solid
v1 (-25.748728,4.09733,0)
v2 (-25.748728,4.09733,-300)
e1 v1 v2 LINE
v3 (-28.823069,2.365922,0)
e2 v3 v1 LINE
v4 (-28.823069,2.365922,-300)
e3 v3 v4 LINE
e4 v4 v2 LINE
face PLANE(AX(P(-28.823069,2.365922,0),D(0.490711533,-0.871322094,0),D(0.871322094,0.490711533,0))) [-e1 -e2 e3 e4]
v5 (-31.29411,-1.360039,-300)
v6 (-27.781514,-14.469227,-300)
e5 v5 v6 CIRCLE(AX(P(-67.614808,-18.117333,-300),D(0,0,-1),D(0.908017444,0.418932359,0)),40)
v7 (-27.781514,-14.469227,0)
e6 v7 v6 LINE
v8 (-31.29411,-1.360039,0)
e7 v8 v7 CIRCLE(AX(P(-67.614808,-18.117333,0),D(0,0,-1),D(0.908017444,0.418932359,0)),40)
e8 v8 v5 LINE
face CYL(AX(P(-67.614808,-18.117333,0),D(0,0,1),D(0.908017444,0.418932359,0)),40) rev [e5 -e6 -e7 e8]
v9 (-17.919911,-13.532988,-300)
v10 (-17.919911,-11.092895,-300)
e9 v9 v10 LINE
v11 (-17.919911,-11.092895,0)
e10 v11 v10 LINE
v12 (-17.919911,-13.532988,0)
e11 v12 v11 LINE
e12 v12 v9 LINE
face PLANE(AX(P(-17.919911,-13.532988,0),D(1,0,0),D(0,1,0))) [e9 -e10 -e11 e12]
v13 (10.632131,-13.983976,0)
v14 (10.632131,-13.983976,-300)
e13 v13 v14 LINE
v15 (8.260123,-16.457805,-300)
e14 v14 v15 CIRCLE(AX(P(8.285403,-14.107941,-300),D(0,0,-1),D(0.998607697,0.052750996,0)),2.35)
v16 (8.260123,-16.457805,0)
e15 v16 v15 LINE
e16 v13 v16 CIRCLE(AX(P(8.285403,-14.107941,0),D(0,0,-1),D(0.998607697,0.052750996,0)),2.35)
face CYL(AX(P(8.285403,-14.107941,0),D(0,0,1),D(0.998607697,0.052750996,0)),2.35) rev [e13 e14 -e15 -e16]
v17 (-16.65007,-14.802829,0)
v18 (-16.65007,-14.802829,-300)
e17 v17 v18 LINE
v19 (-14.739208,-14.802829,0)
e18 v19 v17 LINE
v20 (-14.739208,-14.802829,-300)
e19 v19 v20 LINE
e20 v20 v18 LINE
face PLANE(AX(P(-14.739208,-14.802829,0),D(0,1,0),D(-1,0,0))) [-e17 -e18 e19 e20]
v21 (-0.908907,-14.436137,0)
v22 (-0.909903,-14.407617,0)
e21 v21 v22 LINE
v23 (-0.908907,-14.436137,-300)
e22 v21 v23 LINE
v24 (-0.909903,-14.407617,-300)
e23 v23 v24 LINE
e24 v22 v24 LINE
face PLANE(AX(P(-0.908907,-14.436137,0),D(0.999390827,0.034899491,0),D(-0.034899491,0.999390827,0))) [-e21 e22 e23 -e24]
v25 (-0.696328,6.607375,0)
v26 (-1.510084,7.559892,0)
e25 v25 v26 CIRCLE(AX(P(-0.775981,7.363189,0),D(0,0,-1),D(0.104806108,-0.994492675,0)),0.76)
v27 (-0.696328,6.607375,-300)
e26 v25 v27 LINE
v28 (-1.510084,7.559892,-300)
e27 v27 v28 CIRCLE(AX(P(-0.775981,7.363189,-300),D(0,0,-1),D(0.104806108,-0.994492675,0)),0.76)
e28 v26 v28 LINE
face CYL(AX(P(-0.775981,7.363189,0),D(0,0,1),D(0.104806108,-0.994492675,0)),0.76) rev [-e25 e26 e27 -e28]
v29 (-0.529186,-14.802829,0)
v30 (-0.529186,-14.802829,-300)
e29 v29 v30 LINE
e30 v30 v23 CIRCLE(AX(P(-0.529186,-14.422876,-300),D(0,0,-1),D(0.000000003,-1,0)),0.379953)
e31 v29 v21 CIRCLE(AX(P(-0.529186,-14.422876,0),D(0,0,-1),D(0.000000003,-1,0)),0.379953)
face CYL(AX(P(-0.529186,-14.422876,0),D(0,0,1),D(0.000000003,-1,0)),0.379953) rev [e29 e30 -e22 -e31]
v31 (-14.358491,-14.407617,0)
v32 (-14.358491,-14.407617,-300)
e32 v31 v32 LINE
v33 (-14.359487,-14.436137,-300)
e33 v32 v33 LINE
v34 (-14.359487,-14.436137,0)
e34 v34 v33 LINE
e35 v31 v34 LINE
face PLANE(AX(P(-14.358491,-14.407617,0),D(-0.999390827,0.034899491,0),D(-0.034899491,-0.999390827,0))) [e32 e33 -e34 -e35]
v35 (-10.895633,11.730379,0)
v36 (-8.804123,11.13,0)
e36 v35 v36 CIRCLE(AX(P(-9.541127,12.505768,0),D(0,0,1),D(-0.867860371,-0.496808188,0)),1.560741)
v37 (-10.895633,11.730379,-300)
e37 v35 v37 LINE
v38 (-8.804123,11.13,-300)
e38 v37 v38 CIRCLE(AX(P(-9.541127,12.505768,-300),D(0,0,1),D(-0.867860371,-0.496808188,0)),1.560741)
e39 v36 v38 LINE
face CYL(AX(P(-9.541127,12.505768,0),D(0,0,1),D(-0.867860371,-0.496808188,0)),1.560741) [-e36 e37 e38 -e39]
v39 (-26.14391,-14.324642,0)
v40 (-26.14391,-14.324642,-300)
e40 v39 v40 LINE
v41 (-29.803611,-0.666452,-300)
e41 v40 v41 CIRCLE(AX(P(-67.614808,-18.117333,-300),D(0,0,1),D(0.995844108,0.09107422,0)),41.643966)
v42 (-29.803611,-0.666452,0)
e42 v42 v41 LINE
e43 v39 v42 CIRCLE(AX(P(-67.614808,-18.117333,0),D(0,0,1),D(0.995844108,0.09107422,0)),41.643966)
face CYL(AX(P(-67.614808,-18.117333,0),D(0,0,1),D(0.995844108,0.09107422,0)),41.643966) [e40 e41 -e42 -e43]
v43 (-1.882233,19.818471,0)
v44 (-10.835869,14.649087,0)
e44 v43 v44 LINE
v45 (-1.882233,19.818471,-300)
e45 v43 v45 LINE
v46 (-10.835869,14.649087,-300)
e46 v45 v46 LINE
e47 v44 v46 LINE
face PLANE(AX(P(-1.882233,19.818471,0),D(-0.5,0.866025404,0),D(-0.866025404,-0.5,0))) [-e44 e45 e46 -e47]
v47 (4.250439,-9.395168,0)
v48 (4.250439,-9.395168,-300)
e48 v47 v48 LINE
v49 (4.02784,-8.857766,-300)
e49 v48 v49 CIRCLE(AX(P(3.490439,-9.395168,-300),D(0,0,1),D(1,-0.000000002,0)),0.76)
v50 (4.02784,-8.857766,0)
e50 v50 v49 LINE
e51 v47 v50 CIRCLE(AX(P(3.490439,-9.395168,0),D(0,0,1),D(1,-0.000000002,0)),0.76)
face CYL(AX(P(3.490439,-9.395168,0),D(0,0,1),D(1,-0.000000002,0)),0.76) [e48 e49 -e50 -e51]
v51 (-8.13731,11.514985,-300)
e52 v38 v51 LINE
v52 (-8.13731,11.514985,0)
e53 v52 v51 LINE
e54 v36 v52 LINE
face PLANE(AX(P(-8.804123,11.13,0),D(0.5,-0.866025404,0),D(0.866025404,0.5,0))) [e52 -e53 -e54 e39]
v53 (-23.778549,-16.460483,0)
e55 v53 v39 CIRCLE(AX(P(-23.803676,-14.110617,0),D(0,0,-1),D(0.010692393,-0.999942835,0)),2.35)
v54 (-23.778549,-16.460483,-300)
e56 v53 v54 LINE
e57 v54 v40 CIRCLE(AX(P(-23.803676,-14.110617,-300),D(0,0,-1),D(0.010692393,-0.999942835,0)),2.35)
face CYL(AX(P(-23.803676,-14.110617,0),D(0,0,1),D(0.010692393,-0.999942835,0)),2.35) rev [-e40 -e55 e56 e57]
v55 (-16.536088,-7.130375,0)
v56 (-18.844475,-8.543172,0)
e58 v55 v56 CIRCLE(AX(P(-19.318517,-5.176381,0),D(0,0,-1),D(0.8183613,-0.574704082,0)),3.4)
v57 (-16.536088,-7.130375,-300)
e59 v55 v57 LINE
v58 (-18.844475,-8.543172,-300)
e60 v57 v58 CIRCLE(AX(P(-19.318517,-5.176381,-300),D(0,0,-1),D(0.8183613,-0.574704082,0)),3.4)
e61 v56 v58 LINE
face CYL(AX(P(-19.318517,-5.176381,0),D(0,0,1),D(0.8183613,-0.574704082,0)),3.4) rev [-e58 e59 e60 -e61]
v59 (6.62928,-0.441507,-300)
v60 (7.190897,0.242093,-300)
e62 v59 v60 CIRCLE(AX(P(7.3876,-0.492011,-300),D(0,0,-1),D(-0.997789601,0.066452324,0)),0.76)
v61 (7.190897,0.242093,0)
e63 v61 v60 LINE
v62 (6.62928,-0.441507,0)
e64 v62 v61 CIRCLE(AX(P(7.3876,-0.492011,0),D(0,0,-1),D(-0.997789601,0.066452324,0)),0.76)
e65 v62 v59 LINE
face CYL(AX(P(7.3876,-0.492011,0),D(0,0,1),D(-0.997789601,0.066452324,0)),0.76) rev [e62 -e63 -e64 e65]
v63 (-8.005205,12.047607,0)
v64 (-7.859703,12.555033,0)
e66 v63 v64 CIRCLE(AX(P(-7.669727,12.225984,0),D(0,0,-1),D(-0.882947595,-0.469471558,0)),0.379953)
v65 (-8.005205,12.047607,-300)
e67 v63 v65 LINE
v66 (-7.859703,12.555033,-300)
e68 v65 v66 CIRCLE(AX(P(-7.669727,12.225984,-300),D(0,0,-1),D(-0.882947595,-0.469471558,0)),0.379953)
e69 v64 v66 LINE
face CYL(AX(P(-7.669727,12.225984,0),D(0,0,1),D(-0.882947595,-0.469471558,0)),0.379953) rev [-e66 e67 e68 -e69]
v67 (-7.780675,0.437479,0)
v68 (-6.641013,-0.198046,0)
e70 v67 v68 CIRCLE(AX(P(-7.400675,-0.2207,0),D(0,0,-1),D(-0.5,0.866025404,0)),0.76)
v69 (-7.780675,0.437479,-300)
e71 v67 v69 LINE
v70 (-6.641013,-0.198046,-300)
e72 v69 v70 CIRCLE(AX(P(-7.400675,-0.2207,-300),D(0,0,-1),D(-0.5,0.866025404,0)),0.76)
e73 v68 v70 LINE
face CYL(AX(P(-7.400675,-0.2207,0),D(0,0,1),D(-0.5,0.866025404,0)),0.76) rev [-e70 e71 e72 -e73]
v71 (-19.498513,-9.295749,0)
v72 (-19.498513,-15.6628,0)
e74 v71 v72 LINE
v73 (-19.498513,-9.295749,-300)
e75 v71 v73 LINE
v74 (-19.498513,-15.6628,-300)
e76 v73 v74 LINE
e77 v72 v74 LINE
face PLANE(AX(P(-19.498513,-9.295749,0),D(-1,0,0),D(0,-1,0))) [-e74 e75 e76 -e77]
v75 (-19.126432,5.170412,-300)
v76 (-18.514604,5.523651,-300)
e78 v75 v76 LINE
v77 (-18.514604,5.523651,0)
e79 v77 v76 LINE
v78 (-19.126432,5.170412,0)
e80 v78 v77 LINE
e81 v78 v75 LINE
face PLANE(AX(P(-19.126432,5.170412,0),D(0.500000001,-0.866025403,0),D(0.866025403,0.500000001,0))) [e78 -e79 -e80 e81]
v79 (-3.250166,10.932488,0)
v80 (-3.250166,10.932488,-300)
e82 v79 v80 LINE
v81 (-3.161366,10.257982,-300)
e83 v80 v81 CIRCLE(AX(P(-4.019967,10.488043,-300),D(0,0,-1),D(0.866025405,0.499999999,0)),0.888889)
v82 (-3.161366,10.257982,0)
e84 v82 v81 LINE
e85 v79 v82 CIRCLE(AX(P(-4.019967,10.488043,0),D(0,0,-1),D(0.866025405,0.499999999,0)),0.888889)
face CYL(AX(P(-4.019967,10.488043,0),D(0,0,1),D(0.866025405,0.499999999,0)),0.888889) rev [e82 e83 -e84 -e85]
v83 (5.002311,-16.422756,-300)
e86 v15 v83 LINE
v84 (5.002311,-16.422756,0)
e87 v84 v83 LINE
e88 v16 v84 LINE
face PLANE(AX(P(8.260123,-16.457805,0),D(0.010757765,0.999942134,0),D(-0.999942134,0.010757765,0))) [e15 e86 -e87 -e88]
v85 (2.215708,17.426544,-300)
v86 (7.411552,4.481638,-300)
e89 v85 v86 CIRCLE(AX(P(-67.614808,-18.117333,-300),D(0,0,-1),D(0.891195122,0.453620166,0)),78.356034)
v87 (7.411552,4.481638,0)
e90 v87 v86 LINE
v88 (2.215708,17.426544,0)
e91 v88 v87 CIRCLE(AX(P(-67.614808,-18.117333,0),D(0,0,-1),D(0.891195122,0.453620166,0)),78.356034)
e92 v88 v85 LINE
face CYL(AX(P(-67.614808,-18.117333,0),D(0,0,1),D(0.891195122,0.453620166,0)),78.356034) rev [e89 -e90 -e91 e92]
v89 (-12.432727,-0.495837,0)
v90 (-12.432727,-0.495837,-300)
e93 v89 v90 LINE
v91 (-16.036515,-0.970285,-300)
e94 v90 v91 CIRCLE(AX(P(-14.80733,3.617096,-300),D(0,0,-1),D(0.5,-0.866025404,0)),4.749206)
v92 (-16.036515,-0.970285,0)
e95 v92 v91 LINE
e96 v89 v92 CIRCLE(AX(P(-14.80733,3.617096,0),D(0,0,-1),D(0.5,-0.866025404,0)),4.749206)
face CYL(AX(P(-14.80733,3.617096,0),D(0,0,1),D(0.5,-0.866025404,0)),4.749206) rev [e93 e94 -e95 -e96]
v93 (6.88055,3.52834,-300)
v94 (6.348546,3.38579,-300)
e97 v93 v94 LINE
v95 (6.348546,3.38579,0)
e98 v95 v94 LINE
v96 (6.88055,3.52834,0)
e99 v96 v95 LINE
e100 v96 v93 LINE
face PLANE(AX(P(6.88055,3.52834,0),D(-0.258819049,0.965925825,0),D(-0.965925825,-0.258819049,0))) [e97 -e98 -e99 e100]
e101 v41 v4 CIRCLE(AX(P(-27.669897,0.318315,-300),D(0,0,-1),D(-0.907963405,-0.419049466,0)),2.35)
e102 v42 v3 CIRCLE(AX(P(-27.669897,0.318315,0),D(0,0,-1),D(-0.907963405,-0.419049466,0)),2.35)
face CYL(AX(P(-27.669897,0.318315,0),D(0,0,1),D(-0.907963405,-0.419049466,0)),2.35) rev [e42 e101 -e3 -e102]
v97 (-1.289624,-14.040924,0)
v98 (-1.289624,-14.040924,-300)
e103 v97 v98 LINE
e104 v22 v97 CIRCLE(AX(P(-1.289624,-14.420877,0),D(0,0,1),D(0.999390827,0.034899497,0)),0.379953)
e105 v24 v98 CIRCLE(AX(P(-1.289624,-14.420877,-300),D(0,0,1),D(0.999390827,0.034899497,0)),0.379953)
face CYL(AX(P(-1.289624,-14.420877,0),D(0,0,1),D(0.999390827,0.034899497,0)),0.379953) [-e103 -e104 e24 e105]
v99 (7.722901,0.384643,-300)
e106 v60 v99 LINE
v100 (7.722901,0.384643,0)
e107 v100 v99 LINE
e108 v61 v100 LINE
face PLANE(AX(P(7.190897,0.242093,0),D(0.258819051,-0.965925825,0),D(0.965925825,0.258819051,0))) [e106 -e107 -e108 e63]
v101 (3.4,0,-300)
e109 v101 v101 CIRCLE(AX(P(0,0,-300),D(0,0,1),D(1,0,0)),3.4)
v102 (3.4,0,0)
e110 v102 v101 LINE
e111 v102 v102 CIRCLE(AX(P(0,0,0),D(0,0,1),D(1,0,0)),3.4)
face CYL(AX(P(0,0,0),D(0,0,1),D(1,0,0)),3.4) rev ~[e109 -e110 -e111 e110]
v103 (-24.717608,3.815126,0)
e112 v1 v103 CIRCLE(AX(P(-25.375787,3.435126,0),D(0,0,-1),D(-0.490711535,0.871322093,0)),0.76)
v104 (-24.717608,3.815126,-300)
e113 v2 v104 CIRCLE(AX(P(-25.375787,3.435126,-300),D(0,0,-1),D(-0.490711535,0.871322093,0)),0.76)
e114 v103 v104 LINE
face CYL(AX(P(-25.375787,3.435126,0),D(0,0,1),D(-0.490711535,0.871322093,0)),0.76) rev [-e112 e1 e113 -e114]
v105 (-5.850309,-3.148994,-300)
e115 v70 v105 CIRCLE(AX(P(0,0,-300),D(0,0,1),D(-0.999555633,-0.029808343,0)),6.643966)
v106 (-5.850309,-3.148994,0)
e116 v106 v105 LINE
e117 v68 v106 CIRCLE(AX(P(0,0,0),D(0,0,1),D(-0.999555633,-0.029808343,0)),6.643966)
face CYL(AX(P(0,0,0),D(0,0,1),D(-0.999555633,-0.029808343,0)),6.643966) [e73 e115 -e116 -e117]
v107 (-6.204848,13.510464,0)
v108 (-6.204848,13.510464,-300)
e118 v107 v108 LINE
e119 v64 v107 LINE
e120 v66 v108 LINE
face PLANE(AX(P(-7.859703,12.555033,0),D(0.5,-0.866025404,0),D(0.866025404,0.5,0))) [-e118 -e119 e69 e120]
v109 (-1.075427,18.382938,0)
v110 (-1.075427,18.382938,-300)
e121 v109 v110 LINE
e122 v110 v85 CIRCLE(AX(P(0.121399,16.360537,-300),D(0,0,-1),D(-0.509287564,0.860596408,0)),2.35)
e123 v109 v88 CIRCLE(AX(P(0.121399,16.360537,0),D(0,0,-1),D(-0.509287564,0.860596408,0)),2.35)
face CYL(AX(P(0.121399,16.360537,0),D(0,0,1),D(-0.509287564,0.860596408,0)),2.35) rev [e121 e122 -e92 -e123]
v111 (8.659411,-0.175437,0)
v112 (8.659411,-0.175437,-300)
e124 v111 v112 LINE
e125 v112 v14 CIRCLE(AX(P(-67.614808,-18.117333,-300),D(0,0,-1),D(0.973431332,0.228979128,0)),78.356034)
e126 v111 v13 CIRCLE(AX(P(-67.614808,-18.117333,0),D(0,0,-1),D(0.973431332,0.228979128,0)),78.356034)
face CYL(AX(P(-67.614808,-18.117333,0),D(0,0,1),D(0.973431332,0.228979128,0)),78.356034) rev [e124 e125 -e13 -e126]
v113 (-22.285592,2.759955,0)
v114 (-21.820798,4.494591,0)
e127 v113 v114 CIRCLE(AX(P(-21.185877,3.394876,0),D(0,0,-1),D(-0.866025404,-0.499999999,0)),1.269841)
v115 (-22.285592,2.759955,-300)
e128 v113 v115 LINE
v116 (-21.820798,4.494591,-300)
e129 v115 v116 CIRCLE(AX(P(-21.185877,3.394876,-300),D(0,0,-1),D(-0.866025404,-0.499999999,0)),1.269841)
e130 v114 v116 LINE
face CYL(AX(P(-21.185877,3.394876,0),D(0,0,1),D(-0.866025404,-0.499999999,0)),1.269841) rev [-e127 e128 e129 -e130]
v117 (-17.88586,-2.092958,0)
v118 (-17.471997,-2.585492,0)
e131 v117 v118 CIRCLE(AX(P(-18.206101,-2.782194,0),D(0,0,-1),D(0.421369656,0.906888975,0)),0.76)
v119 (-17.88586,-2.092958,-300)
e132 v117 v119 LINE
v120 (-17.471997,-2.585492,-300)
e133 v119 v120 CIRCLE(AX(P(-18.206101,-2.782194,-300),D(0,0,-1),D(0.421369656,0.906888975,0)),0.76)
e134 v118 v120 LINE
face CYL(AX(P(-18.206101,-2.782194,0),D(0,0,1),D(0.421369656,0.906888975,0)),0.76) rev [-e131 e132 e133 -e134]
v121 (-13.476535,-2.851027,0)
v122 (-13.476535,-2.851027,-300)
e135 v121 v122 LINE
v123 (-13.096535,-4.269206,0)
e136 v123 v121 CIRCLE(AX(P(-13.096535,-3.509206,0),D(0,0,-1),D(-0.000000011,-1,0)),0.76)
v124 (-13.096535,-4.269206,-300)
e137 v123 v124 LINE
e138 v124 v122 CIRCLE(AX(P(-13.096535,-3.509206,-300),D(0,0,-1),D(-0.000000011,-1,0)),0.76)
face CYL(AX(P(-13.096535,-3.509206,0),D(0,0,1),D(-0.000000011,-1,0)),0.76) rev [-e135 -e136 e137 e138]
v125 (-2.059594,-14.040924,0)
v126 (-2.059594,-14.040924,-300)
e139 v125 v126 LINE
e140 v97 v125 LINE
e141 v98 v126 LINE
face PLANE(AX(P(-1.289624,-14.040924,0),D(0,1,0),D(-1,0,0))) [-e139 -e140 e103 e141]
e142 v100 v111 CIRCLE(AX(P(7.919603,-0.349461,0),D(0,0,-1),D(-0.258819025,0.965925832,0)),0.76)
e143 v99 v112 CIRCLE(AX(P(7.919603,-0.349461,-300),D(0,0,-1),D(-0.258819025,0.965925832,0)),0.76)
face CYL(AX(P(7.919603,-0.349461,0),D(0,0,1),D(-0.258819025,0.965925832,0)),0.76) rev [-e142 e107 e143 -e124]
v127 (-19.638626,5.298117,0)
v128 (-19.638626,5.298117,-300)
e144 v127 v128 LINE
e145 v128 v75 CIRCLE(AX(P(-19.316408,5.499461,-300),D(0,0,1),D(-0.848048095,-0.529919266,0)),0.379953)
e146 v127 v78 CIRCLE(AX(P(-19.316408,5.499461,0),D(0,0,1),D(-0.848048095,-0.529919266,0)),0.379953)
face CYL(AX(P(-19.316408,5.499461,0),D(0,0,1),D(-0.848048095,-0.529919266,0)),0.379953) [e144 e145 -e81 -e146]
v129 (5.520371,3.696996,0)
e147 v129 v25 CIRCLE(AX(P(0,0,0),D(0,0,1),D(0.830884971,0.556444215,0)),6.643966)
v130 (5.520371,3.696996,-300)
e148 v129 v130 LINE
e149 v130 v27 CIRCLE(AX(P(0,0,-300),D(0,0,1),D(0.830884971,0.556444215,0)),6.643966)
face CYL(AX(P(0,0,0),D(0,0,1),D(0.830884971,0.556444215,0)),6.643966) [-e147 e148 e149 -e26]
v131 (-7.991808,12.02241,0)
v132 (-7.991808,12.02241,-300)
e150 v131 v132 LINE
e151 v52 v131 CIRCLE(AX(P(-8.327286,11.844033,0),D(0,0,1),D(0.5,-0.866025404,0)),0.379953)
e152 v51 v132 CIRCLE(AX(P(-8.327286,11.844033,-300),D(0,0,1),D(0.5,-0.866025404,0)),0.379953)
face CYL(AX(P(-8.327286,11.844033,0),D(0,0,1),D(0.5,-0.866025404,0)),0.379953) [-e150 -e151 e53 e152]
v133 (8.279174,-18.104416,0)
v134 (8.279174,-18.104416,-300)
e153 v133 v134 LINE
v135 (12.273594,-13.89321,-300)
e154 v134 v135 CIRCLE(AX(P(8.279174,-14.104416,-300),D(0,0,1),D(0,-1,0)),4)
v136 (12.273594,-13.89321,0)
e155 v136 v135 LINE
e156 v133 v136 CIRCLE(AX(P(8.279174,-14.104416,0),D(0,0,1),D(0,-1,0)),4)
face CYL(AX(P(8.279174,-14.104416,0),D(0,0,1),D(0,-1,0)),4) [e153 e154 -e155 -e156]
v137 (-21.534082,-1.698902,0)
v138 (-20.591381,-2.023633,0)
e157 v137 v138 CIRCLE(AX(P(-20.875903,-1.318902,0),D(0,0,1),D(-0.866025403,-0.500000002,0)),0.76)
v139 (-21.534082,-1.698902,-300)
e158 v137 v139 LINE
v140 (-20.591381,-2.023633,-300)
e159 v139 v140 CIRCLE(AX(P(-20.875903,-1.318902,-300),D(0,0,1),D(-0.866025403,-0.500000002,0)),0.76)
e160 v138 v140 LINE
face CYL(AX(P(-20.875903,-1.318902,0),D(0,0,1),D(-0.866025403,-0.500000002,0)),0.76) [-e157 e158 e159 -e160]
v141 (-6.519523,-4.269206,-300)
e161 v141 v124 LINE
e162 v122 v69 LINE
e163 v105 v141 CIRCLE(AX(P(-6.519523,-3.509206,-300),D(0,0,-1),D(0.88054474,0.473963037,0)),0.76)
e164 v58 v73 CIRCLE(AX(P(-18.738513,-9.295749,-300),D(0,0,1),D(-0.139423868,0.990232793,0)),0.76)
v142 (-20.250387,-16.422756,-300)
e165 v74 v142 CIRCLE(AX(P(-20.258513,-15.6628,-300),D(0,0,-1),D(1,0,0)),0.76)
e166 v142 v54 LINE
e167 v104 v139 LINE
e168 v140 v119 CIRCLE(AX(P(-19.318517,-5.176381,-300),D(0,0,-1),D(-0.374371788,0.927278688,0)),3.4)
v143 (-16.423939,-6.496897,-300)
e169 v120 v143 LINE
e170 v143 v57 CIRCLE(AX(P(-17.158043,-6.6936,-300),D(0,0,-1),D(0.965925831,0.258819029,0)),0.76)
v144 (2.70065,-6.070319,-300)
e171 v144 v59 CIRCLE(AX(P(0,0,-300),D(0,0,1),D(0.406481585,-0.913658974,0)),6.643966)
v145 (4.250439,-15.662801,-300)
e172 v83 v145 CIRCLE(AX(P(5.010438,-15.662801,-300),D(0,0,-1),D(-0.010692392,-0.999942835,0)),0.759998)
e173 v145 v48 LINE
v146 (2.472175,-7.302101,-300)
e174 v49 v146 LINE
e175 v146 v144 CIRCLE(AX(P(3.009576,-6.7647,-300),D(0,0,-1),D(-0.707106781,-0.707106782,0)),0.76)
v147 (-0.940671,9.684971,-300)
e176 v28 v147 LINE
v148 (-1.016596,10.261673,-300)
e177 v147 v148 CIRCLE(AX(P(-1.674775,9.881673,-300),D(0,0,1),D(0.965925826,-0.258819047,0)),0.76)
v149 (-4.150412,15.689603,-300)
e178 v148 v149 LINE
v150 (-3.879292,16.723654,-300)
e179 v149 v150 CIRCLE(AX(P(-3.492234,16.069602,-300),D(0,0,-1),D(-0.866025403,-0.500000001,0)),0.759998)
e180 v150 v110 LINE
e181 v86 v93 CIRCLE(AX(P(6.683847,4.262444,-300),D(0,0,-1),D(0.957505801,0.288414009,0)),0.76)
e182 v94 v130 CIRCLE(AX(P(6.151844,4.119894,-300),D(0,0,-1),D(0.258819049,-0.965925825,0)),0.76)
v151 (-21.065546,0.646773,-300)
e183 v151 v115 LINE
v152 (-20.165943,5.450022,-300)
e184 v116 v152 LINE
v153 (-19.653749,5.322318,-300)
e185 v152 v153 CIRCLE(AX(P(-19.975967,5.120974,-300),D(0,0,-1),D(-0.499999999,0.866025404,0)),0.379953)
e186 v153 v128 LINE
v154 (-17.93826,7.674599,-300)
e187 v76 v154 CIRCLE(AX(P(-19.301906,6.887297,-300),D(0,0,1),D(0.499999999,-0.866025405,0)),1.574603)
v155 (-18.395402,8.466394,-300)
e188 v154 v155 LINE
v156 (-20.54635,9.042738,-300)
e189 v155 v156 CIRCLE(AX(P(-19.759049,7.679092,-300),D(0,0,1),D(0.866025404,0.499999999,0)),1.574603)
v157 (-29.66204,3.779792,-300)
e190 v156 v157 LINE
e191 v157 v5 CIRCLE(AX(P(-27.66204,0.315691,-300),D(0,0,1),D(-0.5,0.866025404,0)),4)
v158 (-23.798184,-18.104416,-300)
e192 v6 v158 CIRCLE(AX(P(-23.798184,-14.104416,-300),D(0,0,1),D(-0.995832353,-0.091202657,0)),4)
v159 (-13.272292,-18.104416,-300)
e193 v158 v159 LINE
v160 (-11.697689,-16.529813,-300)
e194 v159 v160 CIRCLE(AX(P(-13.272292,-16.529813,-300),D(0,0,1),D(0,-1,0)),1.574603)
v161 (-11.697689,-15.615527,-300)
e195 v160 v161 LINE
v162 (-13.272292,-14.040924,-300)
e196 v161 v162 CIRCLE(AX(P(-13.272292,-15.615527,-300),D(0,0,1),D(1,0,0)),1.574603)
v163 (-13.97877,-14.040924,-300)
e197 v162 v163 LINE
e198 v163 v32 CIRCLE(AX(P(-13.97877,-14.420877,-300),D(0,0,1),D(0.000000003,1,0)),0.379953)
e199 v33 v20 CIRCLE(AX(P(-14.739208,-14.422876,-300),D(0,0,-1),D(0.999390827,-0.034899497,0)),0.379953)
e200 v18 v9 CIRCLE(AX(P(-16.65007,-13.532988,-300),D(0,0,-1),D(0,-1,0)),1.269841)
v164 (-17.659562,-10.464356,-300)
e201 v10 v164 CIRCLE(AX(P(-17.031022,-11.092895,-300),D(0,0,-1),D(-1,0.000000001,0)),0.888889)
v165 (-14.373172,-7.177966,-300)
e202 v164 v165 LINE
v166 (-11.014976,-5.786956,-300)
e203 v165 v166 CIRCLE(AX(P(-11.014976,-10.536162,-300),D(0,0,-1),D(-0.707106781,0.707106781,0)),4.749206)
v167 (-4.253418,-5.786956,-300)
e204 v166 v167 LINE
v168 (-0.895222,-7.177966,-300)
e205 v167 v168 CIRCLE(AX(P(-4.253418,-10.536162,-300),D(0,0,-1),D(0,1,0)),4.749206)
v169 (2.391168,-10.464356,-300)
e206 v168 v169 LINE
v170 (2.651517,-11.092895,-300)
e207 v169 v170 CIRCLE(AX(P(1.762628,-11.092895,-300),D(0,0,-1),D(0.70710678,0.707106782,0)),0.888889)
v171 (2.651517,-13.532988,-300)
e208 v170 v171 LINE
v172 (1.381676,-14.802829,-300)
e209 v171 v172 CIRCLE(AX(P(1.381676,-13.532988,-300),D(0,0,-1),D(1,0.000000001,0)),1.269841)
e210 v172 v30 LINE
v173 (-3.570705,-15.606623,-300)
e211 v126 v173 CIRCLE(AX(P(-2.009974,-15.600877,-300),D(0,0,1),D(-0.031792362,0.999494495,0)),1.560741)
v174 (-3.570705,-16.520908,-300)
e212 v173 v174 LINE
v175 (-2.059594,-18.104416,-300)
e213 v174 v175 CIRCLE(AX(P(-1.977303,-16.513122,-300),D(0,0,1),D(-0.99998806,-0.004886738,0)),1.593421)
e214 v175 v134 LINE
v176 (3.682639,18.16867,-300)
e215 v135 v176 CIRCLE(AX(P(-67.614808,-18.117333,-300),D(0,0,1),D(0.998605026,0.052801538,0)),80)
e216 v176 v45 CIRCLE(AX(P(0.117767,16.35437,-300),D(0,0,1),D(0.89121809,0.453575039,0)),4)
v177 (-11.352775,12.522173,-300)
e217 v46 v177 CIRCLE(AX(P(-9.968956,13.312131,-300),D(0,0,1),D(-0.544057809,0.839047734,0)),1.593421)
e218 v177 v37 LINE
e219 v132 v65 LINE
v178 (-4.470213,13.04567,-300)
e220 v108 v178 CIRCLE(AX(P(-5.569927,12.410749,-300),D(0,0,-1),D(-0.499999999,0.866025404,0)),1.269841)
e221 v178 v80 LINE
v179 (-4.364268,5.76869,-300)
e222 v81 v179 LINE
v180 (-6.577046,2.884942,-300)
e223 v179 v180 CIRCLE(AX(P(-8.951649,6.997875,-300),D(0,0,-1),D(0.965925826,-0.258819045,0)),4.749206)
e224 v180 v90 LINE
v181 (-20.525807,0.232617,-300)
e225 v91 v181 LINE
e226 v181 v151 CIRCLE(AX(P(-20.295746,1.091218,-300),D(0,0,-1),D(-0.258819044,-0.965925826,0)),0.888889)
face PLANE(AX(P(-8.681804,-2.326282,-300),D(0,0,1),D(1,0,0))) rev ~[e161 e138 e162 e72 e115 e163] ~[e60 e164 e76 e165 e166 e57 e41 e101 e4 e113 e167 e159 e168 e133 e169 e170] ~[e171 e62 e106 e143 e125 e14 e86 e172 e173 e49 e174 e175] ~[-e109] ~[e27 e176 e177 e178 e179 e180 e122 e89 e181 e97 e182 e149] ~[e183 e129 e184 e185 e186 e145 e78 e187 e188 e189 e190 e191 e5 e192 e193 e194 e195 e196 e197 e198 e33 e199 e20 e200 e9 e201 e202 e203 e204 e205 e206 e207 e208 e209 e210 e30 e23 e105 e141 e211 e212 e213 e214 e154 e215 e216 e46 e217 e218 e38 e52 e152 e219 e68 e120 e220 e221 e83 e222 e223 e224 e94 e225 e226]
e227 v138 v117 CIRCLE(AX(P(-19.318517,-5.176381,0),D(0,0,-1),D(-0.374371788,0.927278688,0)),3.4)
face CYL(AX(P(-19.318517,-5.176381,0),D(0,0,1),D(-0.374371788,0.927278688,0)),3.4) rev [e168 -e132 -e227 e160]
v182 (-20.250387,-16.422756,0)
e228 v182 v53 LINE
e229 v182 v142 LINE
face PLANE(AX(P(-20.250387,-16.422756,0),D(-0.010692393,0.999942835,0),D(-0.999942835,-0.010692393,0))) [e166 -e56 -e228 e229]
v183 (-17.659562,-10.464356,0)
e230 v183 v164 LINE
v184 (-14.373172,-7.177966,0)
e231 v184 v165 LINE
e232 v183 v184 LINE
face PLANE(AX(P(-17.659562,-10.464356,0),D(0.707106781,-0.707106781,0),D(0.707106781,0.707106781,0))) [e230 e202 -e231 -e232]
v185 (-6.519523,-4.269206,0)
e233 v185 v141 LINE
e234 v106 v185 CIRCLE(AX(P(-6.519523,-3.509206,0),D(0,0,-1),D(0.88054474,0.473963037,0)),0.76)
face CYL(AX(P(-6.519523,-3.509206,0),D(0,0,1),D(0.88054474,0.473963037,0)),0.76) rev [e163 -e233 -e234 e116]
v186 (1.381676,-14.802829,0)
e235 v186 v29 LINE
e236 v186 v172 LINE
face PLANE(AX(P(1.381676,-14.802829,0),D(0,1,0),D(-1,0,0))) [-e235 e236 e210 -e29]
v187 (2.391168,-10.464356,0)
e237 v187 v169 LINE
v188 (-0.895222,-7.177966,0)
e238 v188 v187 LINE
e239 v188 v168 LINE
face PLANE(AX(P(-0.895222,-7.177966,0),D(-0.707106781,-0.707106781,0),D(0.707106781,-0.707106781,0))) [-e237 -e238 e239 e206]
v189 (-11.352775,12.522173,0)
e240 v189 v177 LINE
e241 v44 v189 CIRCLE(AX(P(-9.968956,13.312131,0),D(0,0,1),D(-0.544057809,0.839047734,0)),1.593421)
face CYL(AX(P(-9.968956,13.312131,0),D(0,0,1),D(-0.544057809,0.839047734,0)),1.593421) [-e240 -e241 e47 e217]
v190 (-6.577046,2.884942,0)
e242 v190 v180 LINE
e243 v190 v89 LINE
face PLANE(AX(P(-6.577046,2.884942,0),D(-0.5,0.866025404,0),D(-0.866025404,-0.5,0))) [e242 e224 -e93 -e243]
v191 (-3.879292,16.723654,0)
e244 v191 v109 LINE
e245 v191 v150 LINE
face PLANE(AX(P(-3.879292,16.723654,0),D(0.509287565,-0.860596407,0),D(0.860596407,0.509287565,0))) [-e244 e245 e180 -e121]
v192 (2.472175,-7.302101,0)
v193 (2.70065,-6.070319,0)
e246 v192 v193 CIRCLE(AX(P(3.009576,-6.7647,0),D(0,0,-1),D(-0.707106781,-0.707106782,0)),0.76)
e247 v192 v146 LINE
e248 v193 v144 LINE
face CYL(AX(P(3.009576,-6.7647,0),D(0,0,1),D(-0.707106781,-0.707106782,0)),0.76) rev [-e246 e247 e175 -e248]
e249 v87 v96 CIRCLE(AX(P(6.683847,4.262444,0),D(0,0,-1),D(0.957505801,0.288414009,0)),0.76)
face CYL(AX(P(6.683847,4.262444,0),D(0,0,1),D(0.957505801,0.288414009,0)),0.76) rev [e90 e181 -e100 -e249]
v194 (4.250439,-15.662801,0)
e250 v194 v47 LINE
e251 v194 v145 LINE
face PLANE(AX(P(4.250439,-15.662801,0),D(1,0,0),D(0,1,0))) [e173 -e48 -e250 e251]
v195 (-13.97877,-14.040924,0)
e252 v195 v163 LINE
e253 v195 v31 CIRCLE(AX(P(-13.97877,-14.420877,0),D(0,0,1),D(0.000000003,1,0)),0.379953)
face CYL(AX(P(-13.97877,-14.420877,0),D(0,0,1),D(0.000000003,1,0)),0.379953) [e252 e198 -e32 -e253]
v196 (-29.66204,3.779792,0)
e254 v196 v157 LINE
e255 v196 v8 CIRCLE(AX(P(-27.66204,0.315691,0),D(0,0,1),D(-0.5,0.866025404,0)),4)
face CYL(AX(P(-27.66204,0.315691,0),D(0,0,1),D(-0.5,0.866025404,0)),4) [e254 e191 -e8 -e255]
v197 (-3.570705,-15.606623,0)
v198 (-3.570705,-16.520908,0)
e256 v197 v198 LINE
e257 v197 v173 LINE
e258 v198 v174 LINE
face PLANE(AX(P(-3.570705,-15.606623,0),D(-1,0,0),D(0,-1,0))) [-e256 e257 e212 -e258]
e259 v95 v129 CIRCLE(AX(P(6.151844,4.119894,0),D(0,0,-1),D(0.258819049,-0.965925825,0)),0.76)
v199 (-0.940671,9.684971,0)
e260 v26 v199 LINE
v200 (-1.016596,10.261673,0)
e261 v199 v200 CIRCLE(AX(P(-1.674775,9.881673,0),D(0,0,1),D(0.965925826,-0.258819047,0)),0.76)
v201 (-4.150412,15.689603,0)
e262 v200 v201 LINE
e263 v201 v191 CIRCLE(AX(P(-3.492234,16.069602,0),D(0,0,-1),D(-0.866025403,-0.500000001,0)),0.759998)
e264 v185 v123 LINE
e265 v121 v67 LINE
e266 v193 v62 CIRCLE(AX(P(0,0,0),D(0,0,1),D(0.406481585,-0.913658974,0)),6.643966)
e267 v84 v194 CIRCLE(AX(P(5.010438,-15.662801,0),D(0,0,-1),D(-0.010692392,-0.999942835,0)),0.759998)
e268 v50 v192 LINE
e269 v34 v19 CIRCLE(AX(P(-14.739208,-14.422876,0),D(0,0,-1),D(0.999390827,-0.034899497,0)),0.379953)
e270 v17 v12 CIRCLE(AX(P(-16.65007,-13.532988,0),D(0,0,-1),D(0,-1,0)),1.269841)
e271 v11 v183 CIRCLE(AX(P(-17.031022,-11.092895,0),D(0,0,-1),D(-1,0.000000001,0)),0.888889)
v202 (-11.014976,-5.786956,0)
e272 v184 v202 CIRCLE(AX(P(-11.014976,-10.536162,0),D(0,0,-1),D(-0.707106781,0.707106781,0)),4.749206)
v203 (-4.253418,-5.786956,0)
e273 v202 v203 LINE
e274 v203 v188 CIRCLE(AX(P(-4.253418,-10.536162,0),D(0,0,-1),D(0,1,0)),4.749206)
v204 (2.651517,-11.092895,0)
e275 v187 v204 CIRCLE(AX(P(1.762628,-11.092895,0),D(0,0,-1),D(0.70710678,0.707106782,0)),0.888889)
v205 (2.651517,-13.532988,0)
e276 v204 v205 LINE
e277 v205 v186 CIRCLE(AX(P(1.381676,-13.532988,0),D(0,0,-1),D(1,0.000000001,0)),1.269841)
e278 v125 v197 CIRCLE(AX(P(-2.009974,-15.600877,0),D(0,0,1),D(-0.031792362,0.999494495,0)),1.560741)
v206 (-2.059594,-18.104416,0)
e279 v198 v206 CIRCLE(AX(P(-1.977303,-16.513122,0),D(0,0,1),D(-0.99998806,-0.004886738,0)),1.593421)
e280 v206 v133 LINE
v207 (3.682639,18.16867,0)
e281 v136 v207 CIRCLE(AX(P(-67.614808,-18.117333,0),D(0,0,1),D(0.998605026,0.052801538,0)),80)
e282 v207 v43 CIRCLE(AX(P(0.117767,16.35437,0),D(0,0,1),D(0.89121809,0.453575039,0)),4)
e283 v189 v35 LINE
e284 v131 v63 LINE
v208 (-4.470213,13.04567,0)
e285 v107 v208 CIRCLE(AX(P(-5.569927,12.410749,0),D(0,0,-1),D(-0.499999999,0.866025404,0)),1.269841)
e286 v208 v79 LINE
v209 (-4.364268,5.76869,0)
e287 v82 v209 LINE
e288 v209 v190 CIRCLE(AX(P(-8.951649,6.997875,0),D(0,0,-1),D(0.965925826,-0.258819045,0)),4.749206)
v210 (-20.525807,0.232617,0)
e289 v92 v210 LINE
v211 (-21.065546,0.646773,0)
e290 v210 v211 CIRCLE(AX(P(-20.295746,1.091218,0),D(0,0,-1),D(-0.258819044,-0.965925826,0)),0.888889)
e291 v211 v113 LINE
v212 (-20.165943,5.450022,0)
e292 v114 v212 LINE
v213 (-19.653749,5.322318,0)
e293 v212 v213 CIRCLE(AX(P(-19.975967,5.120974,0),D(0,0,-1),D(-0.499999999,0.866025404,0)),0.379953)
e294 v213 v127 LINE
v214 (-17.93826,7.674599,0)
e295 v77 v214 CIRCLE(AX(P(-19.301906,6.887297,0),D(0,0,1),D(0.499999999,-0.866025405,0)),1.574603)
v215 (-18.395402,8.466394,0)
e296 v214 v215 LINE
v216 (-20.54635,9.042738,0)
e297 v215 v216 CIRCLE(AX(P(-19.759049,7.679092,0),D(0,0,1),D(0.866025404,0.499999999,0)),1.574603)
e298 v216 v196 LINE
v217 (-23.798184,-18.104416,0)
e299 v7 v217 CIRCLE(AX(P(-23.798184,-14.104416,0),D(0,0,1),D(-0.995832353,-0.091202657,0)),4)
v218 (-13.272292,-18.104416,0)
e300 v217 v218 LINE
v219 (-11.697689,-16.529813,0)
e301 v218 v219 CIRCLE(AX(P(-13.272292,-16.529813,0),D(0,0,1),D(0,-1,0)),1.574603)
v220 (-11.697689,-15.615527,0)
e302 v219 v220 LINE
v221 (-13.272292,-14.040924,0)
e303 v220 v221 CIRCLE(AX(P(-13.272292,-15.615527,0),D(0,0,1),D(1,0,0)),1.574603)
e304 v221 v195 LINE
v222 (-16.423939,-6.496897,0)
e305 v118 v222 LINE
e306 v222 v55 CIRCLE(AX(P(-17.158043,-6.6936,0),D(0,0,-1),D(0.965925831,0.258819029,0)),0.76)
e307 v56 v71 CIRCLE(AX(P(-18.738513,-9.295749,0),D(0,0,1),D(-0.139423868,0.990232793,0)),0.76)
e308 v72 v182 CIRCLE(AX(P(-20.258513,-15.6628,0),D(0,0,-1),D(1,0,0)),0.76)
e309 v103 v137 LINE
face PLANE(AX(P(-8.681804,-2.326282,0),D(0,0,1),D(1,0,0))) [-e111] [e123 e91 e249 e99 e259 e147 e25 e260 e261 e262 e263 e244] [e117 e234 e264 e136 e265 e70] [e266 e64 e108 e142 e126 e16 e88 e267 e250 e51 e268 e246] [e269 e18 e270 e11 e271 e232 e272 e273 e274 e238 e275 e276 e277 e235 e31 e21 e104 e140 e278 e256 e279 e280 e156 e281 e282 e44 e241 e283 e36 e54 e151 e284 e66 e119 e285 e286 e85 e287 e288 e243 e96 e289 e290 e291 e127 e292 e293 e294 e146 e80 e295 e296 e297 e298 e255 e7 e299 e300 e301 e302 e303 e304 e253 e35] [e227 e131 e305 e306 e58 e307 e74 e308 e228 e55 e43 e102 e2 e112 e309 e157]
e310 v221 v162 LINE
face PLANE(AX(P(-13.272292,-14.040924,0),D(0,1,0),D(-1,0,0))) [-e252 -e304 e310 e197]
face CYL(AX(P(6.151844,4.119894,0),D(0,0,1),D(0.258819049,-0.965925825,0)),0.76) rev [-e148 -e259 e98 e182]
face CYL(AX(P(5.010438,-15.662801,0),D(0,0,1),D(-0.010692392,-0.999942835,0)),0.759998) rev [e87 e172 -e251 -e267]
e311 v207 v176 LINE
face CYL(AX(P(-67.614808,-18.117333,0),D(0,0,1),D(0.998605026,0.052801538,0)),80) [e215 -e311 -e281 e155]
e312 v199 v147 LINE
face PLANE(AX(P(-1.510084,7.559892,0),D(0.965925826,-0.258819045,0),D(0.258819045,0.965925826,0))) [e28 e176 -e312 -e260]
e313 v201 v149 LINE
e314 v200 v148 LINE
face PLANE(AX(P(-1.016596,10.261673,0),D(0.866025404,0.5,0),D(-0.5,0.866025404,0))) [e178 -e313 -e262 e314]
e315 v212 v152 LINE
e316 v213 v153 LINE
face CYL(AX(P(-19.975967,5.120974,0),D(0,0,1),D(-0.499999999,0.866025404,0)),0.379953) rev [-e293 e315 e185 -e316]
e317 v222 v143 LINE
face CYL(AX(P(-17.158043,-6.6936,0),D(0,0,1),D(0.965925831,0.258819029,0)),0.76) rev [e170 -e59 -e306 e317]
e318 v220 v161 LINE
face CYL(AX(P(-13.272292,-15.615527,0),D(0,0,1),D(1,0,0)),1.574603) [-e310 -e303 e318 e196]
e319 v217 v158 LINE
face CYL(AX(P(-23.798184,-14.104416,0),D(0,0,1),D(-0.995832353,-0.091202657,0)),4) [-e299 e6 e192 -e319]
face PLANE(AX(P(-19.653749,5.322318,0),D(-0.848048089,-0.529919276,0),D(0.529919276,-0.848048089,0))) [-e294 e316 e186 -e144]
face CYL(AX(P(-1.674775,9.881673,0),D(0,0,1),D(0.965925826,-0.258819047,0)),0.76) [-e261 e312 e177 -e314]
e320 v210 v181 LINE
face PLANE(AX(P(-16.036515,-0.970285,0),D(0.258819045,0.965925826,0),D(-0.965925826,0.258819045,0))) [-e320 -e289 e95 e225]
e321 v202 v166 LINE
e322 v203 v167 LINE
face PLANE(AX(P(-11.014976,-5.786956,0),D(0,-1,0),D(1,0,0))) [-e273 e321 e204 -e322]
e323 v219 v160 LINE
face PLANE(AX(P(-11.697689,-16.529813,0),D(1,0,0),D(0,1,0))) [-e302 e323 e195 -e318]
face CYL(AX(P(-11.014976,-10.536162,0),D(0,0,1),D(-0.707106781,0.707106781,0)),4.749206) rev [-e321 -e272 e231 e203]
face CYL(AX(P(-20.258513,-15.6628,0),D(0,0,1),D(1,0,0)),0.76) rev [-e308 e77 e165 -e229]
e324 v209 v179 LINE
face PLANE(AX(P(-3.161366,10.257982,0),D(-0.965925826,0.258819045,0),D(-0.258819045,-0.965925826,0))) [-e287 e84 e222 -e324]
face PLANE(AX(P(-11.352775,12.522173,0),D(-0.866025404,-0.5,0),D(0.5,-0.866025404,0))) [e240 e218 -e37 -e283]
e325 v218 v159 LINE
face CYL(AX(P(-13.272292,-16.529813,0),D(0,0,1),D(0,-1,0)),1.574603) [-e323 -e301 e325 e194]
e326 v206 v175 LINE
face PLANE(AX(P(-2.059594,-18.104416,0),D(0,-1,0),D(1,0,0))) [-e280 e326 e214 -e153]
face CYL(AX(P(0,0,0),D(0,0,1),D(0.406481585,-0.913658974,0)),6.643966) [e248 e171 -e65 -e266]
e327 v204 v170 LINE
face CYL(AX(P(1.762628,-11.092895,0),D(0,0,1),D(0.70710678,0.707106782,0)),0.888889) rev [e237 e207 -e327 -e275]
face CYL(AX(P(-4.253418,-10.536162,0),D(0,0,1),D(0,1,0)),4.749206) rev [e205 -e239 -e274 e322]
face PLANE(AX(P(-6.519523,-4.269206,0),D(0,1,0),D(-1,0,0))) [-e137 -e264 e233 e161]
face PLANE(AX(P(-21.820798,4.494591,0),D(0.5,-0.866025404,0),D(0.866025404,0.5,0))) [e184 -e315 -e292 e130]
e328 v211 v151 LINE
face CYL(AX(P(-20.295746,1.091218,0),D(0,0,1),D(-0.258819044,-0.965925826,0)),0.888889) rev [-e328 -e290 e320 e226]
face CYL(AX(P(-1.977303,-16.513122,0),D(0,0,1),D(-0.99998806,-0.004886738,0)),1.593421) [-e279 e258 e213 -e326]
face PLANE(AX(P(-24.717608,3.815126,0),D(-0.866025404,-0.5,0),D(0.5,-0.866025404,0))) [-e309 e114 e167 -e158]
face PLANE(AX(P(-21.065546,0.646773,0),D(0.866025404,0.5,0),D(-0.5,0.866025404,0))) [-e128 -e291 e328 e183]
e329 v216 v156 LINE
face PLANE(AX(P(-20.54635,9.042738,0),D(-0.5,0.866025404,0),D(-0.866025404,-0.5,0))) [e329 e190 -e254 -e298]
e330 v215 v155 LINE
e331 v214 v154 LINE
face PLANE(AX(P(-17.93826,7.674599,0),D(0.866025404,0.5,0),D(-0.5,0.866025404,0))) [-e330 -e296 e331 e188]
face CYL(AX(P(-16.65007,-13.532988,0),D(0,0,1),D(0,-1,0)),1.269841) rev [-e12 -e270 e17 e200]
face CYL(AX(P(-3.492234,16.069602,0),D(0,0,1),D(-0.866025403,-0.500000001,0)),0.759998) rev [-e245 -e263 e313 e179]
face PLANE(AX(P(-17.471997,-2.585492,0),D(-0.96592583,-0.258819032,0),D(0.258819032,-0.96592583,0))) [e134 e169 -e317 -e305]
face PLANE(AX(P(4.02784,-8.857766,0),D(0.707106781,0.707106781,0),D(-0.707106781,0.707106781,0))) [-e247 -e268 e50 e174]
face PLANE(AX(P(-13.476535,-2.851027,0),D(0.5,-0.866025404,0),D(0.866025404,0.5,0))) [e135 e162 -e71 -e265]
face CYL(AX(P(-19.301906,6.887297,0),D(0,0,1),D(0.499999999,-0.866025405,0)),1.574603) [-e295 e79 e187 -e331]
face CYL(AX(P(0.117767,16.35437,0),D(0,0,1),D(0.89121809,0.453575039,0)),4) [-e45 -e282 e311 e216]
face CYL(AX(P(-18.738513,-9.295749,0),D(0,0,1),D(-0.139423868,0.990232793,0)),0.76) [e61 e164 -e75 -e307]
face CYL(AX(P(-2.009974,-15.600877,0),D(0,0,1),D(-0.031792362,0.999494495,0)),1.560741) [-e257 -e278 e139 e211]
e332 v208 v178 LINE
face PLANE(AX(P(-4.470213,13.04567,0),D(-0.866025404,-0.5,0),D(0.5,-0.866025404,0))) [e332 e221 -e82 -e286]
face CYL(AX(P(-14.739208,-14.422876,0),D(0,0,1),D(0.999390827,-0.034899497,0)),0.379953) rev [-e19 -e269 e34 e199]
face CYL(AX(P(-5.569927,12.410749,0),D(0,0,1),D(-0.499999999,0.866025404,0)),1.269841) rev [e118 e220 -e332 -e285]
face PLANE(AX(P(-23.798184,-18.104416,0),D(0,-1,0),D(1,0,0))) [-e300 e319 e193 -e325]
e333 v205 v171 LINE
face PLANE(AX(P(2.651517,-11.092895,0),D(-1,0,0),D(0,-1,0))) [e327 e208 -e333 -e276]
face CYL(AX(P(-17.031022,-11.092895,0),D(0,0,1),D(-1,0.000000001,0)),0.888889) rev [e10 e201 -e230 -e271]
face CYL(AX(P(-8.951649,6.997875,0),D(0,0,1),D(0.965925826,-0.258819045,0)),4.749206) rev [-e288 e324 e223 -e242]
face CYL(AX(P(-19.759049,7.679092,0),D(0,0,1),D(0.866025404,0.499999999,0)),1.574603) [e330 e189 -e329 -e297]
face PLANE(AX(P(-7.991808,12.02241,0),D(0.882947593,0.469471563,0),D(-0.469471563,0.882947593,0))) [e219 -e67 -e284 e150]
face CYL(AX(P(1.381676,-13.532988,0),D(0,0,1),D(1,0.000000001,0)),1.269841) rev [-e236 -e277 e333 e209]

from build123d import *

# Parameters (mm, degrees)
SKETCH1_R      = 3.399999999
EXTRUDE1_DEPTH = 300


with BuildPart() as part:
    # Sketch1 → Extrude1 (new body)
    with BuildSketch(Plane.XY):
        with BuildLine():
            Line((-2.059593866, -18.104416256), (8.279174121, -18.104416256))
            ThreePointArc((8.279174121, -18.104416256), (11.181313383, -16.857158108), (12.273594224, -13.893210106))
            ThreePointArc((12.273594224, -13.893210106), (9.65925826, 2.588190449), (3.682639337, 18.16867))
            ThreePointArc((3.682639337, 18.16867), (1.25472238, 20.189383847), (-1.882233023, 19.818471458))
            Line((-1.882233023, 19.818471458), (-10.835868733, 14.649087471))
            ThreePointArc((-10.835868733, 14.649087471), (-11.517306455, 13.688428826), (-11.352775107, 12.522173349))
            Line((-11.352775107, 12.522173349), (-10.895632574, 11.730379256))
            ThreePointArc((-10.895632574, 11.730379256), (-9.971755302, 11.005610738), (-8.804122697, 11.130000122))
            Line((-8.804122697, 11.130000122), (-8.137309536, 11.51498488))
            ThreePointArc((-8.137309536, 11.51498488), (-7.962051999, 11.739304298), (-7.991807639, 12.022410299))
            Line((-7.991807639, 12.022410299), (-8.005205154, 12.04760736))
            ThreePointArc((-8.005205154, 12.04760736), (-8.034960793, 12.33071336), (-7.859703256, 12.555032779))
            Line((-7.859703256, 12.555032779), (-6.204847981, 13.510463917))
            ThreePointArc((-6.204847981, 13.510463917), (-5.241268241, 13.637321596), (-4.470212547, 13.045669753))
            Line((-4.470212547, 13.045669753), (-3.250166277, 10.932487626))
            ThreePointArc((-3.250166277, 10.932487626), (-3.138682315, 10.604066463), (-3.161365902, 10.257981807))
            Line((-3.161365902, 10.257981807), (-4.364267951, 5.768690249))
            ThreePointArc((-4.364267951, 5.768690249), (-5.183850297, 4.106741659), (-6.577045843, 2.884941957))
            Line((-6.577045843, 2.884941957), (-12.432727244, -0.495837277))
            ThreePointArc((-12.432727244, -0.495837277), (-14.187434599, -1.091480161), (-16.036515473, -0.970284996))
            Line((-16.036515473, -0.970284996), (-20.52580703, 0.232617053))
            ThreePointArc((-20.52580703, 0.232617053), (-20.836866927, 0.386014818), (-21.065546016, 0.646773342))
            Line((-21.065546016, 0.646773342), (-22.285592286, 2.75995547))
            ThreePointArc((-22.285592286, 2.75995547), (-22.412449965, 3.72353521), (-21.820798122, 4.494590904))
            Line((-21.820798122, 4.494590904), (-20.165942847, 5.450022043))
            ThreePointArc((-20.165942847, 5.450022043), (-19.884047763, 5.489639813), (-19.653748594, 5.322317672))
            Line((-19.653748594, 5.322317672), (-19.638626056, 5.298116553))
            ThreePointArc((-19.638626056, 5.298116553), (-19.408326887, 5.130794413), (-19.126431804, 5.170412183))
            Line((-19.126431804, 5.170412183), (-18.514604376, 5.523650914))
            ThreePointArc((-18.514604376, 5.523650914), (-17.78095609, 6.479759973), (-17.938259613, 7.674598851))
            Line((-17.938259613, 7.674598851), (-18.39540247, 8.466393505))
            ThreePointArc((-18.39540247, 8.466393505), (-19.35151153, 9.200041791), (-20.546350407, 9.042738268))
            Line((-20.546350407, 9.042738268), (-29.662040307, 3.779792251))
            ThreePointArc((-29.662040307, 3.779792251), (-31.47445664, 1.526261453), (-31.294110083, -1.360038798))
            ThreePointArc((-31.294110083, -1.360038798), (-28.977774789, -7.764571351), (-27.781513715, -14.469226888))
            ThreePointArc((-27.781513715, -14.469226888), (-26.49454829, -17.059009504), (-23.798184307, -18.104416256))
            Line((-23.798184307, -18.104416256), (-13.272292278, -18.104416256))
            ThreePointArc((-13.272292278, -18.104416256), (-12.158879696, -17.643225664), (-11.697689104, -16.529813082))
            Line((-11.697689104, -16.529813082), (-11.697689104, -15.615527367))
            ThreePointArc((-11.697689104, -15.615527367), (-12.158879696, -14.502114785), (-13.272292278, -14.040924193))
            Line((-13.272292278, -14.040924193), (-13.978769739, -14.040924193))
            ThreePointArc((-13.978769739, -14.040924193), (-14.242706928, -14.147561739), (-14.358490788, -14.407616548))
            Line((-14.358490788, -14.407616548), (-14.35948673, -14.4361366))
            ThreePointArc((-14.35948673, -14.4361366), (-14.475270591, -14.696191409), (-14.739207779, -14.802828955))
            Line((-14.739207779, -14.802828955), (-16.650070056, -14.802828955))
            ThreePointArc((-16.650070056, -14.802828955), (-17.547983429, -14.430901058), (-17.919911326, -13.532987685))
            Line((-17.919911326, -13.532987685), (-17.919911326, -11.092895145))
            ThreePointArc((-17.919911326, -11.092895145), (-17.852248688, -10.752732094), (-17.659561798, -10.464355784))
            Line((-17.659561798, -10.464355784), (-14.373172288, -7.177966273))
            ThreePointArc((-14.373172288, -7.177966273), (-12.83241886, -6.148467746), (-11.014976273, -5.786955939))
            Line((-11.014976273, -5.786955939), (-4.253417808, -5.786955939))
            ThreePointArc((-4.253417808, -5.786955939), (-2.435975221, -6.148467746), (-0.895221793, -7.177966273))
            Line((-0.895221793, -7.177966273), (2.391167718, -10.464355784))
            ThreePointArc((2.391167718, -10.464355784), (2.583854608, -10.752732094), (2.651517245, -11.092895145))
            Line((2.651517245, -11.092895145), (2.651517245, -13.532987685))
            ThreePointArc((2.651517245, -13.532987685), (2.279589349, -14.430901058), (1.381675976, -14.802828955))
            Line((1.381675976, -14.802828955), (-0.529186301, -14.802828955))
            ThreePointArc((-0.529186301, -14.802828955), (-0.79312349, -14.696191409), (-0.90890735, -14.4361366))
            Line((-0.90890735, -14.4361366), (-0.909903292, -14.407616548))
            ThreePointArc((-0.909903292, -14.407616548), (-1.025687153, -14.147561739), (-1.289624342, -14.040924193))
            Line((-1.289624342, -14.040924193), (-2.059593866, -14.040924193))
            ThreePointArc((-2.059593866, -14.040924193), (-3.132988051, -14.517016132), (-3.570704977, -15.606622714))
            Line((-3.570704977, -15.606622714), (-3.570704977, -16.520908428))
            ThreePointArc((-3.570704977, -16.520908428), (-3.130065344, -17.61318056), (-2.059593866, -18.104416256))
        make_face()
        with Locations((3.2e-08, -5.5e-08)):
            Circle(SKETCH1_R, mode=Mode.SUBTRACT)
        with BuildLine():
            Line((-17.471996997, -2.585491548), (-16.423939067, -6.496897212))
            ThreePointArc((-16.423939067, -6.496897212), (-16.409679865, -6.826087675), (-16.53608811, -7.130374779))
            ThreePointArc((-16.53608811, -7.130374779), (-17.543650961, -8.076355418), (-18.844475383, -8.543172397))
            ThreePointArc((-18.844475383, -8.543172397), (-19.312155652, -8.797217087), (-19.498513244, -9.29574932))
            Line((-19.498513244, -9.29574932), (-19.498513244, -15.662799546))
            ThreePointArc((-19.498513244, -15.662799546), (-19.718246677, -16.197319926), (-20.250387025, -16.4227561))
            Line((-20.250387025, -16.4227561), (-23.778549311, -16.460482754))
            ThreePointArc((-23.778549311, -16.460482754), (-25.37859993, -15.854783364), (-26.143910087, -14.324641508))
            ThreePointArc((-26.143910087, -14.324641508), (-27.389825963, -7.33908176), (-29.803611037, -0.666451621))
            ThreePointArc((-29.803611037, -0.666451621), (-29.905903927, 1.041345175), (-28.823069139, 2.365921544))
            Line((-28.823069139, 2.365921544), (-25.748727644, 4.097330446))
            ThreePointArc((-25.748727644, 4.097330446), (-25.175162497, 4.168167167), (-24.717607571, 3.815125655))
            Line((-24.717607571, 3.815125655), (-21.534082474, -1.698901561))
            ThreePointArc((-21.534082474, -1.698901561), (-21.123425948, -2.037464343), (-20.591380608, -2.023633363))
            ThreePointArc((-20.591380608, -2.023633363), (-19.231425073, -1.777496514), (-17.885859686, -2.092958393))
            ThreePointArc((-17.885859686, -2.092958393), (-17.624243388, -2.293274639), (-17.471996997, -2.585491548))
        make_face(mode=Mode.SUBTRACT)
        with BuildLine():
            Line((7.190897434, 0.242092847), (7.722900865, 0.38464274))
            ThreePointArc((7.722900865, 0.38464274), (8.309684208, 0.302794353), (8.659411124, -0.175436695))
            ThreePointArc((8.659411124, -0.175436695), (9.953652351, -7.035721769), (10.632131313, -13.983976078))
            ThreePointArc((10.632131313, -13.983976078), (9.981645181, -15.73436744), (8.260122506, -16.457804934))
            Line((8.260122506, -16.457804934), (5.002311314, -16.422756139))
            ThreePointArc((5.002311314, -16.422756139), (4.47017203, -16.197320416), (4.250439036, -15.662801104))
            Line((4.250439036, -15.662801104), (4.250439036, -9.395167615))
            ThreePointArc((4.250439036, -9.395167615), (4.192587481, -9.104328206), (4.02784019, -8.857766461))
            Line((4.02784019, -8.857766461), (2.472174548, -7.302100819))
            ThreePointArc((2.472174548, -7.302100819), (2.262321312, -6.626096356), (2.700649697, -6.070318845))
            ThreePointArc((2.700649697, -6.070318845), (5.448190239, -3.80256528), (6.629279814, -0.441507013))
            ThreePointArc((6.629279814, -0.441507013), (6.800365527, -0.009563085), (7.190897434, 0.242092847))
        make_face(mode=Mode.SUBTRACT)
        with BuildLine():
            Line((-1.510084411, 7.559891942), (-0.940671266, 9.684970729))
            ThreePointArc((-0.940671266, 9.684970729), (-0.921276799, 9.980873109), (-1.016595587, 10.261673203))
            Line((-1.016595587, 10.261673203), (-4.150412332, 15.689603027))
            ThreePointArc((-4.150412332, 15.689603027), (-4.227383934, 16.262352796), (-3.879292116, 16.723654228))
            Line((-3.879292116, 16.723654228), (-1.075426501, 18.382938276))
            ThreePointArc((-1.075426501, 18.382938276), (0.77717457, 18.617184399), (2.215707781, 17.426544162))
            ThreePointArc((2.215707781, 17.426544162), (5.102254892, 11.069940004), (7.411551633, 4.48163831))
            ThreePointArc((7.411551633, 4.48163831), (7.347794829, 3.892614543), (6.8805497, 3.528340035))
            Line((6.8805497, 3.528340035), (6.348546228, 3.385790132))
            ThreePointArc((6.348546228, 3.385790132), (5.884507712, 3.408464604), (5.520371172, 3.696996155))
            ThreePointArc((5.520371172, 3.696996155), (2.816988485, 6.017213134), (-0.69632814, 6.607375035))
            ThreePointArc((-0.69632814, 6.607375035), (-1.353820412, 6.869528286), (-1.510084411, 7.559891942))
        make_face(mode=Mode.SUBTRACT)
        with BuildLine():
            Line((-6.519522932, -4.269206071), (-13.09653484, -4.269206071))
            ThreePointArc((-13.09653484, -4.269206071), (-13.830638522, -3.705908495), (-13.476534864, -2.851026646))
            Line((-13.476534864, -2.851026646), (-7.780675483, 0.437479301))
            ThreePointArc((-7.780675483, 0.437479301), (-7.030528407, 0.443070393), (-6.641013202, -0.198045665))
            ThreePointArc((-6.641013202, -0.198045665), (-6.417577923, -1.719584898), (-5.850308929, -3.148994163))
            ThreePointArc((-5.850308929, -3.148994163), (-5.867080961, -3.89897456), (-6.519522932, -4.269206071))
        make_face(mode=Mode.SUBTRACT)
    extrude(amount=-EXTRUDE1_DEPTH)


solid = part.part
